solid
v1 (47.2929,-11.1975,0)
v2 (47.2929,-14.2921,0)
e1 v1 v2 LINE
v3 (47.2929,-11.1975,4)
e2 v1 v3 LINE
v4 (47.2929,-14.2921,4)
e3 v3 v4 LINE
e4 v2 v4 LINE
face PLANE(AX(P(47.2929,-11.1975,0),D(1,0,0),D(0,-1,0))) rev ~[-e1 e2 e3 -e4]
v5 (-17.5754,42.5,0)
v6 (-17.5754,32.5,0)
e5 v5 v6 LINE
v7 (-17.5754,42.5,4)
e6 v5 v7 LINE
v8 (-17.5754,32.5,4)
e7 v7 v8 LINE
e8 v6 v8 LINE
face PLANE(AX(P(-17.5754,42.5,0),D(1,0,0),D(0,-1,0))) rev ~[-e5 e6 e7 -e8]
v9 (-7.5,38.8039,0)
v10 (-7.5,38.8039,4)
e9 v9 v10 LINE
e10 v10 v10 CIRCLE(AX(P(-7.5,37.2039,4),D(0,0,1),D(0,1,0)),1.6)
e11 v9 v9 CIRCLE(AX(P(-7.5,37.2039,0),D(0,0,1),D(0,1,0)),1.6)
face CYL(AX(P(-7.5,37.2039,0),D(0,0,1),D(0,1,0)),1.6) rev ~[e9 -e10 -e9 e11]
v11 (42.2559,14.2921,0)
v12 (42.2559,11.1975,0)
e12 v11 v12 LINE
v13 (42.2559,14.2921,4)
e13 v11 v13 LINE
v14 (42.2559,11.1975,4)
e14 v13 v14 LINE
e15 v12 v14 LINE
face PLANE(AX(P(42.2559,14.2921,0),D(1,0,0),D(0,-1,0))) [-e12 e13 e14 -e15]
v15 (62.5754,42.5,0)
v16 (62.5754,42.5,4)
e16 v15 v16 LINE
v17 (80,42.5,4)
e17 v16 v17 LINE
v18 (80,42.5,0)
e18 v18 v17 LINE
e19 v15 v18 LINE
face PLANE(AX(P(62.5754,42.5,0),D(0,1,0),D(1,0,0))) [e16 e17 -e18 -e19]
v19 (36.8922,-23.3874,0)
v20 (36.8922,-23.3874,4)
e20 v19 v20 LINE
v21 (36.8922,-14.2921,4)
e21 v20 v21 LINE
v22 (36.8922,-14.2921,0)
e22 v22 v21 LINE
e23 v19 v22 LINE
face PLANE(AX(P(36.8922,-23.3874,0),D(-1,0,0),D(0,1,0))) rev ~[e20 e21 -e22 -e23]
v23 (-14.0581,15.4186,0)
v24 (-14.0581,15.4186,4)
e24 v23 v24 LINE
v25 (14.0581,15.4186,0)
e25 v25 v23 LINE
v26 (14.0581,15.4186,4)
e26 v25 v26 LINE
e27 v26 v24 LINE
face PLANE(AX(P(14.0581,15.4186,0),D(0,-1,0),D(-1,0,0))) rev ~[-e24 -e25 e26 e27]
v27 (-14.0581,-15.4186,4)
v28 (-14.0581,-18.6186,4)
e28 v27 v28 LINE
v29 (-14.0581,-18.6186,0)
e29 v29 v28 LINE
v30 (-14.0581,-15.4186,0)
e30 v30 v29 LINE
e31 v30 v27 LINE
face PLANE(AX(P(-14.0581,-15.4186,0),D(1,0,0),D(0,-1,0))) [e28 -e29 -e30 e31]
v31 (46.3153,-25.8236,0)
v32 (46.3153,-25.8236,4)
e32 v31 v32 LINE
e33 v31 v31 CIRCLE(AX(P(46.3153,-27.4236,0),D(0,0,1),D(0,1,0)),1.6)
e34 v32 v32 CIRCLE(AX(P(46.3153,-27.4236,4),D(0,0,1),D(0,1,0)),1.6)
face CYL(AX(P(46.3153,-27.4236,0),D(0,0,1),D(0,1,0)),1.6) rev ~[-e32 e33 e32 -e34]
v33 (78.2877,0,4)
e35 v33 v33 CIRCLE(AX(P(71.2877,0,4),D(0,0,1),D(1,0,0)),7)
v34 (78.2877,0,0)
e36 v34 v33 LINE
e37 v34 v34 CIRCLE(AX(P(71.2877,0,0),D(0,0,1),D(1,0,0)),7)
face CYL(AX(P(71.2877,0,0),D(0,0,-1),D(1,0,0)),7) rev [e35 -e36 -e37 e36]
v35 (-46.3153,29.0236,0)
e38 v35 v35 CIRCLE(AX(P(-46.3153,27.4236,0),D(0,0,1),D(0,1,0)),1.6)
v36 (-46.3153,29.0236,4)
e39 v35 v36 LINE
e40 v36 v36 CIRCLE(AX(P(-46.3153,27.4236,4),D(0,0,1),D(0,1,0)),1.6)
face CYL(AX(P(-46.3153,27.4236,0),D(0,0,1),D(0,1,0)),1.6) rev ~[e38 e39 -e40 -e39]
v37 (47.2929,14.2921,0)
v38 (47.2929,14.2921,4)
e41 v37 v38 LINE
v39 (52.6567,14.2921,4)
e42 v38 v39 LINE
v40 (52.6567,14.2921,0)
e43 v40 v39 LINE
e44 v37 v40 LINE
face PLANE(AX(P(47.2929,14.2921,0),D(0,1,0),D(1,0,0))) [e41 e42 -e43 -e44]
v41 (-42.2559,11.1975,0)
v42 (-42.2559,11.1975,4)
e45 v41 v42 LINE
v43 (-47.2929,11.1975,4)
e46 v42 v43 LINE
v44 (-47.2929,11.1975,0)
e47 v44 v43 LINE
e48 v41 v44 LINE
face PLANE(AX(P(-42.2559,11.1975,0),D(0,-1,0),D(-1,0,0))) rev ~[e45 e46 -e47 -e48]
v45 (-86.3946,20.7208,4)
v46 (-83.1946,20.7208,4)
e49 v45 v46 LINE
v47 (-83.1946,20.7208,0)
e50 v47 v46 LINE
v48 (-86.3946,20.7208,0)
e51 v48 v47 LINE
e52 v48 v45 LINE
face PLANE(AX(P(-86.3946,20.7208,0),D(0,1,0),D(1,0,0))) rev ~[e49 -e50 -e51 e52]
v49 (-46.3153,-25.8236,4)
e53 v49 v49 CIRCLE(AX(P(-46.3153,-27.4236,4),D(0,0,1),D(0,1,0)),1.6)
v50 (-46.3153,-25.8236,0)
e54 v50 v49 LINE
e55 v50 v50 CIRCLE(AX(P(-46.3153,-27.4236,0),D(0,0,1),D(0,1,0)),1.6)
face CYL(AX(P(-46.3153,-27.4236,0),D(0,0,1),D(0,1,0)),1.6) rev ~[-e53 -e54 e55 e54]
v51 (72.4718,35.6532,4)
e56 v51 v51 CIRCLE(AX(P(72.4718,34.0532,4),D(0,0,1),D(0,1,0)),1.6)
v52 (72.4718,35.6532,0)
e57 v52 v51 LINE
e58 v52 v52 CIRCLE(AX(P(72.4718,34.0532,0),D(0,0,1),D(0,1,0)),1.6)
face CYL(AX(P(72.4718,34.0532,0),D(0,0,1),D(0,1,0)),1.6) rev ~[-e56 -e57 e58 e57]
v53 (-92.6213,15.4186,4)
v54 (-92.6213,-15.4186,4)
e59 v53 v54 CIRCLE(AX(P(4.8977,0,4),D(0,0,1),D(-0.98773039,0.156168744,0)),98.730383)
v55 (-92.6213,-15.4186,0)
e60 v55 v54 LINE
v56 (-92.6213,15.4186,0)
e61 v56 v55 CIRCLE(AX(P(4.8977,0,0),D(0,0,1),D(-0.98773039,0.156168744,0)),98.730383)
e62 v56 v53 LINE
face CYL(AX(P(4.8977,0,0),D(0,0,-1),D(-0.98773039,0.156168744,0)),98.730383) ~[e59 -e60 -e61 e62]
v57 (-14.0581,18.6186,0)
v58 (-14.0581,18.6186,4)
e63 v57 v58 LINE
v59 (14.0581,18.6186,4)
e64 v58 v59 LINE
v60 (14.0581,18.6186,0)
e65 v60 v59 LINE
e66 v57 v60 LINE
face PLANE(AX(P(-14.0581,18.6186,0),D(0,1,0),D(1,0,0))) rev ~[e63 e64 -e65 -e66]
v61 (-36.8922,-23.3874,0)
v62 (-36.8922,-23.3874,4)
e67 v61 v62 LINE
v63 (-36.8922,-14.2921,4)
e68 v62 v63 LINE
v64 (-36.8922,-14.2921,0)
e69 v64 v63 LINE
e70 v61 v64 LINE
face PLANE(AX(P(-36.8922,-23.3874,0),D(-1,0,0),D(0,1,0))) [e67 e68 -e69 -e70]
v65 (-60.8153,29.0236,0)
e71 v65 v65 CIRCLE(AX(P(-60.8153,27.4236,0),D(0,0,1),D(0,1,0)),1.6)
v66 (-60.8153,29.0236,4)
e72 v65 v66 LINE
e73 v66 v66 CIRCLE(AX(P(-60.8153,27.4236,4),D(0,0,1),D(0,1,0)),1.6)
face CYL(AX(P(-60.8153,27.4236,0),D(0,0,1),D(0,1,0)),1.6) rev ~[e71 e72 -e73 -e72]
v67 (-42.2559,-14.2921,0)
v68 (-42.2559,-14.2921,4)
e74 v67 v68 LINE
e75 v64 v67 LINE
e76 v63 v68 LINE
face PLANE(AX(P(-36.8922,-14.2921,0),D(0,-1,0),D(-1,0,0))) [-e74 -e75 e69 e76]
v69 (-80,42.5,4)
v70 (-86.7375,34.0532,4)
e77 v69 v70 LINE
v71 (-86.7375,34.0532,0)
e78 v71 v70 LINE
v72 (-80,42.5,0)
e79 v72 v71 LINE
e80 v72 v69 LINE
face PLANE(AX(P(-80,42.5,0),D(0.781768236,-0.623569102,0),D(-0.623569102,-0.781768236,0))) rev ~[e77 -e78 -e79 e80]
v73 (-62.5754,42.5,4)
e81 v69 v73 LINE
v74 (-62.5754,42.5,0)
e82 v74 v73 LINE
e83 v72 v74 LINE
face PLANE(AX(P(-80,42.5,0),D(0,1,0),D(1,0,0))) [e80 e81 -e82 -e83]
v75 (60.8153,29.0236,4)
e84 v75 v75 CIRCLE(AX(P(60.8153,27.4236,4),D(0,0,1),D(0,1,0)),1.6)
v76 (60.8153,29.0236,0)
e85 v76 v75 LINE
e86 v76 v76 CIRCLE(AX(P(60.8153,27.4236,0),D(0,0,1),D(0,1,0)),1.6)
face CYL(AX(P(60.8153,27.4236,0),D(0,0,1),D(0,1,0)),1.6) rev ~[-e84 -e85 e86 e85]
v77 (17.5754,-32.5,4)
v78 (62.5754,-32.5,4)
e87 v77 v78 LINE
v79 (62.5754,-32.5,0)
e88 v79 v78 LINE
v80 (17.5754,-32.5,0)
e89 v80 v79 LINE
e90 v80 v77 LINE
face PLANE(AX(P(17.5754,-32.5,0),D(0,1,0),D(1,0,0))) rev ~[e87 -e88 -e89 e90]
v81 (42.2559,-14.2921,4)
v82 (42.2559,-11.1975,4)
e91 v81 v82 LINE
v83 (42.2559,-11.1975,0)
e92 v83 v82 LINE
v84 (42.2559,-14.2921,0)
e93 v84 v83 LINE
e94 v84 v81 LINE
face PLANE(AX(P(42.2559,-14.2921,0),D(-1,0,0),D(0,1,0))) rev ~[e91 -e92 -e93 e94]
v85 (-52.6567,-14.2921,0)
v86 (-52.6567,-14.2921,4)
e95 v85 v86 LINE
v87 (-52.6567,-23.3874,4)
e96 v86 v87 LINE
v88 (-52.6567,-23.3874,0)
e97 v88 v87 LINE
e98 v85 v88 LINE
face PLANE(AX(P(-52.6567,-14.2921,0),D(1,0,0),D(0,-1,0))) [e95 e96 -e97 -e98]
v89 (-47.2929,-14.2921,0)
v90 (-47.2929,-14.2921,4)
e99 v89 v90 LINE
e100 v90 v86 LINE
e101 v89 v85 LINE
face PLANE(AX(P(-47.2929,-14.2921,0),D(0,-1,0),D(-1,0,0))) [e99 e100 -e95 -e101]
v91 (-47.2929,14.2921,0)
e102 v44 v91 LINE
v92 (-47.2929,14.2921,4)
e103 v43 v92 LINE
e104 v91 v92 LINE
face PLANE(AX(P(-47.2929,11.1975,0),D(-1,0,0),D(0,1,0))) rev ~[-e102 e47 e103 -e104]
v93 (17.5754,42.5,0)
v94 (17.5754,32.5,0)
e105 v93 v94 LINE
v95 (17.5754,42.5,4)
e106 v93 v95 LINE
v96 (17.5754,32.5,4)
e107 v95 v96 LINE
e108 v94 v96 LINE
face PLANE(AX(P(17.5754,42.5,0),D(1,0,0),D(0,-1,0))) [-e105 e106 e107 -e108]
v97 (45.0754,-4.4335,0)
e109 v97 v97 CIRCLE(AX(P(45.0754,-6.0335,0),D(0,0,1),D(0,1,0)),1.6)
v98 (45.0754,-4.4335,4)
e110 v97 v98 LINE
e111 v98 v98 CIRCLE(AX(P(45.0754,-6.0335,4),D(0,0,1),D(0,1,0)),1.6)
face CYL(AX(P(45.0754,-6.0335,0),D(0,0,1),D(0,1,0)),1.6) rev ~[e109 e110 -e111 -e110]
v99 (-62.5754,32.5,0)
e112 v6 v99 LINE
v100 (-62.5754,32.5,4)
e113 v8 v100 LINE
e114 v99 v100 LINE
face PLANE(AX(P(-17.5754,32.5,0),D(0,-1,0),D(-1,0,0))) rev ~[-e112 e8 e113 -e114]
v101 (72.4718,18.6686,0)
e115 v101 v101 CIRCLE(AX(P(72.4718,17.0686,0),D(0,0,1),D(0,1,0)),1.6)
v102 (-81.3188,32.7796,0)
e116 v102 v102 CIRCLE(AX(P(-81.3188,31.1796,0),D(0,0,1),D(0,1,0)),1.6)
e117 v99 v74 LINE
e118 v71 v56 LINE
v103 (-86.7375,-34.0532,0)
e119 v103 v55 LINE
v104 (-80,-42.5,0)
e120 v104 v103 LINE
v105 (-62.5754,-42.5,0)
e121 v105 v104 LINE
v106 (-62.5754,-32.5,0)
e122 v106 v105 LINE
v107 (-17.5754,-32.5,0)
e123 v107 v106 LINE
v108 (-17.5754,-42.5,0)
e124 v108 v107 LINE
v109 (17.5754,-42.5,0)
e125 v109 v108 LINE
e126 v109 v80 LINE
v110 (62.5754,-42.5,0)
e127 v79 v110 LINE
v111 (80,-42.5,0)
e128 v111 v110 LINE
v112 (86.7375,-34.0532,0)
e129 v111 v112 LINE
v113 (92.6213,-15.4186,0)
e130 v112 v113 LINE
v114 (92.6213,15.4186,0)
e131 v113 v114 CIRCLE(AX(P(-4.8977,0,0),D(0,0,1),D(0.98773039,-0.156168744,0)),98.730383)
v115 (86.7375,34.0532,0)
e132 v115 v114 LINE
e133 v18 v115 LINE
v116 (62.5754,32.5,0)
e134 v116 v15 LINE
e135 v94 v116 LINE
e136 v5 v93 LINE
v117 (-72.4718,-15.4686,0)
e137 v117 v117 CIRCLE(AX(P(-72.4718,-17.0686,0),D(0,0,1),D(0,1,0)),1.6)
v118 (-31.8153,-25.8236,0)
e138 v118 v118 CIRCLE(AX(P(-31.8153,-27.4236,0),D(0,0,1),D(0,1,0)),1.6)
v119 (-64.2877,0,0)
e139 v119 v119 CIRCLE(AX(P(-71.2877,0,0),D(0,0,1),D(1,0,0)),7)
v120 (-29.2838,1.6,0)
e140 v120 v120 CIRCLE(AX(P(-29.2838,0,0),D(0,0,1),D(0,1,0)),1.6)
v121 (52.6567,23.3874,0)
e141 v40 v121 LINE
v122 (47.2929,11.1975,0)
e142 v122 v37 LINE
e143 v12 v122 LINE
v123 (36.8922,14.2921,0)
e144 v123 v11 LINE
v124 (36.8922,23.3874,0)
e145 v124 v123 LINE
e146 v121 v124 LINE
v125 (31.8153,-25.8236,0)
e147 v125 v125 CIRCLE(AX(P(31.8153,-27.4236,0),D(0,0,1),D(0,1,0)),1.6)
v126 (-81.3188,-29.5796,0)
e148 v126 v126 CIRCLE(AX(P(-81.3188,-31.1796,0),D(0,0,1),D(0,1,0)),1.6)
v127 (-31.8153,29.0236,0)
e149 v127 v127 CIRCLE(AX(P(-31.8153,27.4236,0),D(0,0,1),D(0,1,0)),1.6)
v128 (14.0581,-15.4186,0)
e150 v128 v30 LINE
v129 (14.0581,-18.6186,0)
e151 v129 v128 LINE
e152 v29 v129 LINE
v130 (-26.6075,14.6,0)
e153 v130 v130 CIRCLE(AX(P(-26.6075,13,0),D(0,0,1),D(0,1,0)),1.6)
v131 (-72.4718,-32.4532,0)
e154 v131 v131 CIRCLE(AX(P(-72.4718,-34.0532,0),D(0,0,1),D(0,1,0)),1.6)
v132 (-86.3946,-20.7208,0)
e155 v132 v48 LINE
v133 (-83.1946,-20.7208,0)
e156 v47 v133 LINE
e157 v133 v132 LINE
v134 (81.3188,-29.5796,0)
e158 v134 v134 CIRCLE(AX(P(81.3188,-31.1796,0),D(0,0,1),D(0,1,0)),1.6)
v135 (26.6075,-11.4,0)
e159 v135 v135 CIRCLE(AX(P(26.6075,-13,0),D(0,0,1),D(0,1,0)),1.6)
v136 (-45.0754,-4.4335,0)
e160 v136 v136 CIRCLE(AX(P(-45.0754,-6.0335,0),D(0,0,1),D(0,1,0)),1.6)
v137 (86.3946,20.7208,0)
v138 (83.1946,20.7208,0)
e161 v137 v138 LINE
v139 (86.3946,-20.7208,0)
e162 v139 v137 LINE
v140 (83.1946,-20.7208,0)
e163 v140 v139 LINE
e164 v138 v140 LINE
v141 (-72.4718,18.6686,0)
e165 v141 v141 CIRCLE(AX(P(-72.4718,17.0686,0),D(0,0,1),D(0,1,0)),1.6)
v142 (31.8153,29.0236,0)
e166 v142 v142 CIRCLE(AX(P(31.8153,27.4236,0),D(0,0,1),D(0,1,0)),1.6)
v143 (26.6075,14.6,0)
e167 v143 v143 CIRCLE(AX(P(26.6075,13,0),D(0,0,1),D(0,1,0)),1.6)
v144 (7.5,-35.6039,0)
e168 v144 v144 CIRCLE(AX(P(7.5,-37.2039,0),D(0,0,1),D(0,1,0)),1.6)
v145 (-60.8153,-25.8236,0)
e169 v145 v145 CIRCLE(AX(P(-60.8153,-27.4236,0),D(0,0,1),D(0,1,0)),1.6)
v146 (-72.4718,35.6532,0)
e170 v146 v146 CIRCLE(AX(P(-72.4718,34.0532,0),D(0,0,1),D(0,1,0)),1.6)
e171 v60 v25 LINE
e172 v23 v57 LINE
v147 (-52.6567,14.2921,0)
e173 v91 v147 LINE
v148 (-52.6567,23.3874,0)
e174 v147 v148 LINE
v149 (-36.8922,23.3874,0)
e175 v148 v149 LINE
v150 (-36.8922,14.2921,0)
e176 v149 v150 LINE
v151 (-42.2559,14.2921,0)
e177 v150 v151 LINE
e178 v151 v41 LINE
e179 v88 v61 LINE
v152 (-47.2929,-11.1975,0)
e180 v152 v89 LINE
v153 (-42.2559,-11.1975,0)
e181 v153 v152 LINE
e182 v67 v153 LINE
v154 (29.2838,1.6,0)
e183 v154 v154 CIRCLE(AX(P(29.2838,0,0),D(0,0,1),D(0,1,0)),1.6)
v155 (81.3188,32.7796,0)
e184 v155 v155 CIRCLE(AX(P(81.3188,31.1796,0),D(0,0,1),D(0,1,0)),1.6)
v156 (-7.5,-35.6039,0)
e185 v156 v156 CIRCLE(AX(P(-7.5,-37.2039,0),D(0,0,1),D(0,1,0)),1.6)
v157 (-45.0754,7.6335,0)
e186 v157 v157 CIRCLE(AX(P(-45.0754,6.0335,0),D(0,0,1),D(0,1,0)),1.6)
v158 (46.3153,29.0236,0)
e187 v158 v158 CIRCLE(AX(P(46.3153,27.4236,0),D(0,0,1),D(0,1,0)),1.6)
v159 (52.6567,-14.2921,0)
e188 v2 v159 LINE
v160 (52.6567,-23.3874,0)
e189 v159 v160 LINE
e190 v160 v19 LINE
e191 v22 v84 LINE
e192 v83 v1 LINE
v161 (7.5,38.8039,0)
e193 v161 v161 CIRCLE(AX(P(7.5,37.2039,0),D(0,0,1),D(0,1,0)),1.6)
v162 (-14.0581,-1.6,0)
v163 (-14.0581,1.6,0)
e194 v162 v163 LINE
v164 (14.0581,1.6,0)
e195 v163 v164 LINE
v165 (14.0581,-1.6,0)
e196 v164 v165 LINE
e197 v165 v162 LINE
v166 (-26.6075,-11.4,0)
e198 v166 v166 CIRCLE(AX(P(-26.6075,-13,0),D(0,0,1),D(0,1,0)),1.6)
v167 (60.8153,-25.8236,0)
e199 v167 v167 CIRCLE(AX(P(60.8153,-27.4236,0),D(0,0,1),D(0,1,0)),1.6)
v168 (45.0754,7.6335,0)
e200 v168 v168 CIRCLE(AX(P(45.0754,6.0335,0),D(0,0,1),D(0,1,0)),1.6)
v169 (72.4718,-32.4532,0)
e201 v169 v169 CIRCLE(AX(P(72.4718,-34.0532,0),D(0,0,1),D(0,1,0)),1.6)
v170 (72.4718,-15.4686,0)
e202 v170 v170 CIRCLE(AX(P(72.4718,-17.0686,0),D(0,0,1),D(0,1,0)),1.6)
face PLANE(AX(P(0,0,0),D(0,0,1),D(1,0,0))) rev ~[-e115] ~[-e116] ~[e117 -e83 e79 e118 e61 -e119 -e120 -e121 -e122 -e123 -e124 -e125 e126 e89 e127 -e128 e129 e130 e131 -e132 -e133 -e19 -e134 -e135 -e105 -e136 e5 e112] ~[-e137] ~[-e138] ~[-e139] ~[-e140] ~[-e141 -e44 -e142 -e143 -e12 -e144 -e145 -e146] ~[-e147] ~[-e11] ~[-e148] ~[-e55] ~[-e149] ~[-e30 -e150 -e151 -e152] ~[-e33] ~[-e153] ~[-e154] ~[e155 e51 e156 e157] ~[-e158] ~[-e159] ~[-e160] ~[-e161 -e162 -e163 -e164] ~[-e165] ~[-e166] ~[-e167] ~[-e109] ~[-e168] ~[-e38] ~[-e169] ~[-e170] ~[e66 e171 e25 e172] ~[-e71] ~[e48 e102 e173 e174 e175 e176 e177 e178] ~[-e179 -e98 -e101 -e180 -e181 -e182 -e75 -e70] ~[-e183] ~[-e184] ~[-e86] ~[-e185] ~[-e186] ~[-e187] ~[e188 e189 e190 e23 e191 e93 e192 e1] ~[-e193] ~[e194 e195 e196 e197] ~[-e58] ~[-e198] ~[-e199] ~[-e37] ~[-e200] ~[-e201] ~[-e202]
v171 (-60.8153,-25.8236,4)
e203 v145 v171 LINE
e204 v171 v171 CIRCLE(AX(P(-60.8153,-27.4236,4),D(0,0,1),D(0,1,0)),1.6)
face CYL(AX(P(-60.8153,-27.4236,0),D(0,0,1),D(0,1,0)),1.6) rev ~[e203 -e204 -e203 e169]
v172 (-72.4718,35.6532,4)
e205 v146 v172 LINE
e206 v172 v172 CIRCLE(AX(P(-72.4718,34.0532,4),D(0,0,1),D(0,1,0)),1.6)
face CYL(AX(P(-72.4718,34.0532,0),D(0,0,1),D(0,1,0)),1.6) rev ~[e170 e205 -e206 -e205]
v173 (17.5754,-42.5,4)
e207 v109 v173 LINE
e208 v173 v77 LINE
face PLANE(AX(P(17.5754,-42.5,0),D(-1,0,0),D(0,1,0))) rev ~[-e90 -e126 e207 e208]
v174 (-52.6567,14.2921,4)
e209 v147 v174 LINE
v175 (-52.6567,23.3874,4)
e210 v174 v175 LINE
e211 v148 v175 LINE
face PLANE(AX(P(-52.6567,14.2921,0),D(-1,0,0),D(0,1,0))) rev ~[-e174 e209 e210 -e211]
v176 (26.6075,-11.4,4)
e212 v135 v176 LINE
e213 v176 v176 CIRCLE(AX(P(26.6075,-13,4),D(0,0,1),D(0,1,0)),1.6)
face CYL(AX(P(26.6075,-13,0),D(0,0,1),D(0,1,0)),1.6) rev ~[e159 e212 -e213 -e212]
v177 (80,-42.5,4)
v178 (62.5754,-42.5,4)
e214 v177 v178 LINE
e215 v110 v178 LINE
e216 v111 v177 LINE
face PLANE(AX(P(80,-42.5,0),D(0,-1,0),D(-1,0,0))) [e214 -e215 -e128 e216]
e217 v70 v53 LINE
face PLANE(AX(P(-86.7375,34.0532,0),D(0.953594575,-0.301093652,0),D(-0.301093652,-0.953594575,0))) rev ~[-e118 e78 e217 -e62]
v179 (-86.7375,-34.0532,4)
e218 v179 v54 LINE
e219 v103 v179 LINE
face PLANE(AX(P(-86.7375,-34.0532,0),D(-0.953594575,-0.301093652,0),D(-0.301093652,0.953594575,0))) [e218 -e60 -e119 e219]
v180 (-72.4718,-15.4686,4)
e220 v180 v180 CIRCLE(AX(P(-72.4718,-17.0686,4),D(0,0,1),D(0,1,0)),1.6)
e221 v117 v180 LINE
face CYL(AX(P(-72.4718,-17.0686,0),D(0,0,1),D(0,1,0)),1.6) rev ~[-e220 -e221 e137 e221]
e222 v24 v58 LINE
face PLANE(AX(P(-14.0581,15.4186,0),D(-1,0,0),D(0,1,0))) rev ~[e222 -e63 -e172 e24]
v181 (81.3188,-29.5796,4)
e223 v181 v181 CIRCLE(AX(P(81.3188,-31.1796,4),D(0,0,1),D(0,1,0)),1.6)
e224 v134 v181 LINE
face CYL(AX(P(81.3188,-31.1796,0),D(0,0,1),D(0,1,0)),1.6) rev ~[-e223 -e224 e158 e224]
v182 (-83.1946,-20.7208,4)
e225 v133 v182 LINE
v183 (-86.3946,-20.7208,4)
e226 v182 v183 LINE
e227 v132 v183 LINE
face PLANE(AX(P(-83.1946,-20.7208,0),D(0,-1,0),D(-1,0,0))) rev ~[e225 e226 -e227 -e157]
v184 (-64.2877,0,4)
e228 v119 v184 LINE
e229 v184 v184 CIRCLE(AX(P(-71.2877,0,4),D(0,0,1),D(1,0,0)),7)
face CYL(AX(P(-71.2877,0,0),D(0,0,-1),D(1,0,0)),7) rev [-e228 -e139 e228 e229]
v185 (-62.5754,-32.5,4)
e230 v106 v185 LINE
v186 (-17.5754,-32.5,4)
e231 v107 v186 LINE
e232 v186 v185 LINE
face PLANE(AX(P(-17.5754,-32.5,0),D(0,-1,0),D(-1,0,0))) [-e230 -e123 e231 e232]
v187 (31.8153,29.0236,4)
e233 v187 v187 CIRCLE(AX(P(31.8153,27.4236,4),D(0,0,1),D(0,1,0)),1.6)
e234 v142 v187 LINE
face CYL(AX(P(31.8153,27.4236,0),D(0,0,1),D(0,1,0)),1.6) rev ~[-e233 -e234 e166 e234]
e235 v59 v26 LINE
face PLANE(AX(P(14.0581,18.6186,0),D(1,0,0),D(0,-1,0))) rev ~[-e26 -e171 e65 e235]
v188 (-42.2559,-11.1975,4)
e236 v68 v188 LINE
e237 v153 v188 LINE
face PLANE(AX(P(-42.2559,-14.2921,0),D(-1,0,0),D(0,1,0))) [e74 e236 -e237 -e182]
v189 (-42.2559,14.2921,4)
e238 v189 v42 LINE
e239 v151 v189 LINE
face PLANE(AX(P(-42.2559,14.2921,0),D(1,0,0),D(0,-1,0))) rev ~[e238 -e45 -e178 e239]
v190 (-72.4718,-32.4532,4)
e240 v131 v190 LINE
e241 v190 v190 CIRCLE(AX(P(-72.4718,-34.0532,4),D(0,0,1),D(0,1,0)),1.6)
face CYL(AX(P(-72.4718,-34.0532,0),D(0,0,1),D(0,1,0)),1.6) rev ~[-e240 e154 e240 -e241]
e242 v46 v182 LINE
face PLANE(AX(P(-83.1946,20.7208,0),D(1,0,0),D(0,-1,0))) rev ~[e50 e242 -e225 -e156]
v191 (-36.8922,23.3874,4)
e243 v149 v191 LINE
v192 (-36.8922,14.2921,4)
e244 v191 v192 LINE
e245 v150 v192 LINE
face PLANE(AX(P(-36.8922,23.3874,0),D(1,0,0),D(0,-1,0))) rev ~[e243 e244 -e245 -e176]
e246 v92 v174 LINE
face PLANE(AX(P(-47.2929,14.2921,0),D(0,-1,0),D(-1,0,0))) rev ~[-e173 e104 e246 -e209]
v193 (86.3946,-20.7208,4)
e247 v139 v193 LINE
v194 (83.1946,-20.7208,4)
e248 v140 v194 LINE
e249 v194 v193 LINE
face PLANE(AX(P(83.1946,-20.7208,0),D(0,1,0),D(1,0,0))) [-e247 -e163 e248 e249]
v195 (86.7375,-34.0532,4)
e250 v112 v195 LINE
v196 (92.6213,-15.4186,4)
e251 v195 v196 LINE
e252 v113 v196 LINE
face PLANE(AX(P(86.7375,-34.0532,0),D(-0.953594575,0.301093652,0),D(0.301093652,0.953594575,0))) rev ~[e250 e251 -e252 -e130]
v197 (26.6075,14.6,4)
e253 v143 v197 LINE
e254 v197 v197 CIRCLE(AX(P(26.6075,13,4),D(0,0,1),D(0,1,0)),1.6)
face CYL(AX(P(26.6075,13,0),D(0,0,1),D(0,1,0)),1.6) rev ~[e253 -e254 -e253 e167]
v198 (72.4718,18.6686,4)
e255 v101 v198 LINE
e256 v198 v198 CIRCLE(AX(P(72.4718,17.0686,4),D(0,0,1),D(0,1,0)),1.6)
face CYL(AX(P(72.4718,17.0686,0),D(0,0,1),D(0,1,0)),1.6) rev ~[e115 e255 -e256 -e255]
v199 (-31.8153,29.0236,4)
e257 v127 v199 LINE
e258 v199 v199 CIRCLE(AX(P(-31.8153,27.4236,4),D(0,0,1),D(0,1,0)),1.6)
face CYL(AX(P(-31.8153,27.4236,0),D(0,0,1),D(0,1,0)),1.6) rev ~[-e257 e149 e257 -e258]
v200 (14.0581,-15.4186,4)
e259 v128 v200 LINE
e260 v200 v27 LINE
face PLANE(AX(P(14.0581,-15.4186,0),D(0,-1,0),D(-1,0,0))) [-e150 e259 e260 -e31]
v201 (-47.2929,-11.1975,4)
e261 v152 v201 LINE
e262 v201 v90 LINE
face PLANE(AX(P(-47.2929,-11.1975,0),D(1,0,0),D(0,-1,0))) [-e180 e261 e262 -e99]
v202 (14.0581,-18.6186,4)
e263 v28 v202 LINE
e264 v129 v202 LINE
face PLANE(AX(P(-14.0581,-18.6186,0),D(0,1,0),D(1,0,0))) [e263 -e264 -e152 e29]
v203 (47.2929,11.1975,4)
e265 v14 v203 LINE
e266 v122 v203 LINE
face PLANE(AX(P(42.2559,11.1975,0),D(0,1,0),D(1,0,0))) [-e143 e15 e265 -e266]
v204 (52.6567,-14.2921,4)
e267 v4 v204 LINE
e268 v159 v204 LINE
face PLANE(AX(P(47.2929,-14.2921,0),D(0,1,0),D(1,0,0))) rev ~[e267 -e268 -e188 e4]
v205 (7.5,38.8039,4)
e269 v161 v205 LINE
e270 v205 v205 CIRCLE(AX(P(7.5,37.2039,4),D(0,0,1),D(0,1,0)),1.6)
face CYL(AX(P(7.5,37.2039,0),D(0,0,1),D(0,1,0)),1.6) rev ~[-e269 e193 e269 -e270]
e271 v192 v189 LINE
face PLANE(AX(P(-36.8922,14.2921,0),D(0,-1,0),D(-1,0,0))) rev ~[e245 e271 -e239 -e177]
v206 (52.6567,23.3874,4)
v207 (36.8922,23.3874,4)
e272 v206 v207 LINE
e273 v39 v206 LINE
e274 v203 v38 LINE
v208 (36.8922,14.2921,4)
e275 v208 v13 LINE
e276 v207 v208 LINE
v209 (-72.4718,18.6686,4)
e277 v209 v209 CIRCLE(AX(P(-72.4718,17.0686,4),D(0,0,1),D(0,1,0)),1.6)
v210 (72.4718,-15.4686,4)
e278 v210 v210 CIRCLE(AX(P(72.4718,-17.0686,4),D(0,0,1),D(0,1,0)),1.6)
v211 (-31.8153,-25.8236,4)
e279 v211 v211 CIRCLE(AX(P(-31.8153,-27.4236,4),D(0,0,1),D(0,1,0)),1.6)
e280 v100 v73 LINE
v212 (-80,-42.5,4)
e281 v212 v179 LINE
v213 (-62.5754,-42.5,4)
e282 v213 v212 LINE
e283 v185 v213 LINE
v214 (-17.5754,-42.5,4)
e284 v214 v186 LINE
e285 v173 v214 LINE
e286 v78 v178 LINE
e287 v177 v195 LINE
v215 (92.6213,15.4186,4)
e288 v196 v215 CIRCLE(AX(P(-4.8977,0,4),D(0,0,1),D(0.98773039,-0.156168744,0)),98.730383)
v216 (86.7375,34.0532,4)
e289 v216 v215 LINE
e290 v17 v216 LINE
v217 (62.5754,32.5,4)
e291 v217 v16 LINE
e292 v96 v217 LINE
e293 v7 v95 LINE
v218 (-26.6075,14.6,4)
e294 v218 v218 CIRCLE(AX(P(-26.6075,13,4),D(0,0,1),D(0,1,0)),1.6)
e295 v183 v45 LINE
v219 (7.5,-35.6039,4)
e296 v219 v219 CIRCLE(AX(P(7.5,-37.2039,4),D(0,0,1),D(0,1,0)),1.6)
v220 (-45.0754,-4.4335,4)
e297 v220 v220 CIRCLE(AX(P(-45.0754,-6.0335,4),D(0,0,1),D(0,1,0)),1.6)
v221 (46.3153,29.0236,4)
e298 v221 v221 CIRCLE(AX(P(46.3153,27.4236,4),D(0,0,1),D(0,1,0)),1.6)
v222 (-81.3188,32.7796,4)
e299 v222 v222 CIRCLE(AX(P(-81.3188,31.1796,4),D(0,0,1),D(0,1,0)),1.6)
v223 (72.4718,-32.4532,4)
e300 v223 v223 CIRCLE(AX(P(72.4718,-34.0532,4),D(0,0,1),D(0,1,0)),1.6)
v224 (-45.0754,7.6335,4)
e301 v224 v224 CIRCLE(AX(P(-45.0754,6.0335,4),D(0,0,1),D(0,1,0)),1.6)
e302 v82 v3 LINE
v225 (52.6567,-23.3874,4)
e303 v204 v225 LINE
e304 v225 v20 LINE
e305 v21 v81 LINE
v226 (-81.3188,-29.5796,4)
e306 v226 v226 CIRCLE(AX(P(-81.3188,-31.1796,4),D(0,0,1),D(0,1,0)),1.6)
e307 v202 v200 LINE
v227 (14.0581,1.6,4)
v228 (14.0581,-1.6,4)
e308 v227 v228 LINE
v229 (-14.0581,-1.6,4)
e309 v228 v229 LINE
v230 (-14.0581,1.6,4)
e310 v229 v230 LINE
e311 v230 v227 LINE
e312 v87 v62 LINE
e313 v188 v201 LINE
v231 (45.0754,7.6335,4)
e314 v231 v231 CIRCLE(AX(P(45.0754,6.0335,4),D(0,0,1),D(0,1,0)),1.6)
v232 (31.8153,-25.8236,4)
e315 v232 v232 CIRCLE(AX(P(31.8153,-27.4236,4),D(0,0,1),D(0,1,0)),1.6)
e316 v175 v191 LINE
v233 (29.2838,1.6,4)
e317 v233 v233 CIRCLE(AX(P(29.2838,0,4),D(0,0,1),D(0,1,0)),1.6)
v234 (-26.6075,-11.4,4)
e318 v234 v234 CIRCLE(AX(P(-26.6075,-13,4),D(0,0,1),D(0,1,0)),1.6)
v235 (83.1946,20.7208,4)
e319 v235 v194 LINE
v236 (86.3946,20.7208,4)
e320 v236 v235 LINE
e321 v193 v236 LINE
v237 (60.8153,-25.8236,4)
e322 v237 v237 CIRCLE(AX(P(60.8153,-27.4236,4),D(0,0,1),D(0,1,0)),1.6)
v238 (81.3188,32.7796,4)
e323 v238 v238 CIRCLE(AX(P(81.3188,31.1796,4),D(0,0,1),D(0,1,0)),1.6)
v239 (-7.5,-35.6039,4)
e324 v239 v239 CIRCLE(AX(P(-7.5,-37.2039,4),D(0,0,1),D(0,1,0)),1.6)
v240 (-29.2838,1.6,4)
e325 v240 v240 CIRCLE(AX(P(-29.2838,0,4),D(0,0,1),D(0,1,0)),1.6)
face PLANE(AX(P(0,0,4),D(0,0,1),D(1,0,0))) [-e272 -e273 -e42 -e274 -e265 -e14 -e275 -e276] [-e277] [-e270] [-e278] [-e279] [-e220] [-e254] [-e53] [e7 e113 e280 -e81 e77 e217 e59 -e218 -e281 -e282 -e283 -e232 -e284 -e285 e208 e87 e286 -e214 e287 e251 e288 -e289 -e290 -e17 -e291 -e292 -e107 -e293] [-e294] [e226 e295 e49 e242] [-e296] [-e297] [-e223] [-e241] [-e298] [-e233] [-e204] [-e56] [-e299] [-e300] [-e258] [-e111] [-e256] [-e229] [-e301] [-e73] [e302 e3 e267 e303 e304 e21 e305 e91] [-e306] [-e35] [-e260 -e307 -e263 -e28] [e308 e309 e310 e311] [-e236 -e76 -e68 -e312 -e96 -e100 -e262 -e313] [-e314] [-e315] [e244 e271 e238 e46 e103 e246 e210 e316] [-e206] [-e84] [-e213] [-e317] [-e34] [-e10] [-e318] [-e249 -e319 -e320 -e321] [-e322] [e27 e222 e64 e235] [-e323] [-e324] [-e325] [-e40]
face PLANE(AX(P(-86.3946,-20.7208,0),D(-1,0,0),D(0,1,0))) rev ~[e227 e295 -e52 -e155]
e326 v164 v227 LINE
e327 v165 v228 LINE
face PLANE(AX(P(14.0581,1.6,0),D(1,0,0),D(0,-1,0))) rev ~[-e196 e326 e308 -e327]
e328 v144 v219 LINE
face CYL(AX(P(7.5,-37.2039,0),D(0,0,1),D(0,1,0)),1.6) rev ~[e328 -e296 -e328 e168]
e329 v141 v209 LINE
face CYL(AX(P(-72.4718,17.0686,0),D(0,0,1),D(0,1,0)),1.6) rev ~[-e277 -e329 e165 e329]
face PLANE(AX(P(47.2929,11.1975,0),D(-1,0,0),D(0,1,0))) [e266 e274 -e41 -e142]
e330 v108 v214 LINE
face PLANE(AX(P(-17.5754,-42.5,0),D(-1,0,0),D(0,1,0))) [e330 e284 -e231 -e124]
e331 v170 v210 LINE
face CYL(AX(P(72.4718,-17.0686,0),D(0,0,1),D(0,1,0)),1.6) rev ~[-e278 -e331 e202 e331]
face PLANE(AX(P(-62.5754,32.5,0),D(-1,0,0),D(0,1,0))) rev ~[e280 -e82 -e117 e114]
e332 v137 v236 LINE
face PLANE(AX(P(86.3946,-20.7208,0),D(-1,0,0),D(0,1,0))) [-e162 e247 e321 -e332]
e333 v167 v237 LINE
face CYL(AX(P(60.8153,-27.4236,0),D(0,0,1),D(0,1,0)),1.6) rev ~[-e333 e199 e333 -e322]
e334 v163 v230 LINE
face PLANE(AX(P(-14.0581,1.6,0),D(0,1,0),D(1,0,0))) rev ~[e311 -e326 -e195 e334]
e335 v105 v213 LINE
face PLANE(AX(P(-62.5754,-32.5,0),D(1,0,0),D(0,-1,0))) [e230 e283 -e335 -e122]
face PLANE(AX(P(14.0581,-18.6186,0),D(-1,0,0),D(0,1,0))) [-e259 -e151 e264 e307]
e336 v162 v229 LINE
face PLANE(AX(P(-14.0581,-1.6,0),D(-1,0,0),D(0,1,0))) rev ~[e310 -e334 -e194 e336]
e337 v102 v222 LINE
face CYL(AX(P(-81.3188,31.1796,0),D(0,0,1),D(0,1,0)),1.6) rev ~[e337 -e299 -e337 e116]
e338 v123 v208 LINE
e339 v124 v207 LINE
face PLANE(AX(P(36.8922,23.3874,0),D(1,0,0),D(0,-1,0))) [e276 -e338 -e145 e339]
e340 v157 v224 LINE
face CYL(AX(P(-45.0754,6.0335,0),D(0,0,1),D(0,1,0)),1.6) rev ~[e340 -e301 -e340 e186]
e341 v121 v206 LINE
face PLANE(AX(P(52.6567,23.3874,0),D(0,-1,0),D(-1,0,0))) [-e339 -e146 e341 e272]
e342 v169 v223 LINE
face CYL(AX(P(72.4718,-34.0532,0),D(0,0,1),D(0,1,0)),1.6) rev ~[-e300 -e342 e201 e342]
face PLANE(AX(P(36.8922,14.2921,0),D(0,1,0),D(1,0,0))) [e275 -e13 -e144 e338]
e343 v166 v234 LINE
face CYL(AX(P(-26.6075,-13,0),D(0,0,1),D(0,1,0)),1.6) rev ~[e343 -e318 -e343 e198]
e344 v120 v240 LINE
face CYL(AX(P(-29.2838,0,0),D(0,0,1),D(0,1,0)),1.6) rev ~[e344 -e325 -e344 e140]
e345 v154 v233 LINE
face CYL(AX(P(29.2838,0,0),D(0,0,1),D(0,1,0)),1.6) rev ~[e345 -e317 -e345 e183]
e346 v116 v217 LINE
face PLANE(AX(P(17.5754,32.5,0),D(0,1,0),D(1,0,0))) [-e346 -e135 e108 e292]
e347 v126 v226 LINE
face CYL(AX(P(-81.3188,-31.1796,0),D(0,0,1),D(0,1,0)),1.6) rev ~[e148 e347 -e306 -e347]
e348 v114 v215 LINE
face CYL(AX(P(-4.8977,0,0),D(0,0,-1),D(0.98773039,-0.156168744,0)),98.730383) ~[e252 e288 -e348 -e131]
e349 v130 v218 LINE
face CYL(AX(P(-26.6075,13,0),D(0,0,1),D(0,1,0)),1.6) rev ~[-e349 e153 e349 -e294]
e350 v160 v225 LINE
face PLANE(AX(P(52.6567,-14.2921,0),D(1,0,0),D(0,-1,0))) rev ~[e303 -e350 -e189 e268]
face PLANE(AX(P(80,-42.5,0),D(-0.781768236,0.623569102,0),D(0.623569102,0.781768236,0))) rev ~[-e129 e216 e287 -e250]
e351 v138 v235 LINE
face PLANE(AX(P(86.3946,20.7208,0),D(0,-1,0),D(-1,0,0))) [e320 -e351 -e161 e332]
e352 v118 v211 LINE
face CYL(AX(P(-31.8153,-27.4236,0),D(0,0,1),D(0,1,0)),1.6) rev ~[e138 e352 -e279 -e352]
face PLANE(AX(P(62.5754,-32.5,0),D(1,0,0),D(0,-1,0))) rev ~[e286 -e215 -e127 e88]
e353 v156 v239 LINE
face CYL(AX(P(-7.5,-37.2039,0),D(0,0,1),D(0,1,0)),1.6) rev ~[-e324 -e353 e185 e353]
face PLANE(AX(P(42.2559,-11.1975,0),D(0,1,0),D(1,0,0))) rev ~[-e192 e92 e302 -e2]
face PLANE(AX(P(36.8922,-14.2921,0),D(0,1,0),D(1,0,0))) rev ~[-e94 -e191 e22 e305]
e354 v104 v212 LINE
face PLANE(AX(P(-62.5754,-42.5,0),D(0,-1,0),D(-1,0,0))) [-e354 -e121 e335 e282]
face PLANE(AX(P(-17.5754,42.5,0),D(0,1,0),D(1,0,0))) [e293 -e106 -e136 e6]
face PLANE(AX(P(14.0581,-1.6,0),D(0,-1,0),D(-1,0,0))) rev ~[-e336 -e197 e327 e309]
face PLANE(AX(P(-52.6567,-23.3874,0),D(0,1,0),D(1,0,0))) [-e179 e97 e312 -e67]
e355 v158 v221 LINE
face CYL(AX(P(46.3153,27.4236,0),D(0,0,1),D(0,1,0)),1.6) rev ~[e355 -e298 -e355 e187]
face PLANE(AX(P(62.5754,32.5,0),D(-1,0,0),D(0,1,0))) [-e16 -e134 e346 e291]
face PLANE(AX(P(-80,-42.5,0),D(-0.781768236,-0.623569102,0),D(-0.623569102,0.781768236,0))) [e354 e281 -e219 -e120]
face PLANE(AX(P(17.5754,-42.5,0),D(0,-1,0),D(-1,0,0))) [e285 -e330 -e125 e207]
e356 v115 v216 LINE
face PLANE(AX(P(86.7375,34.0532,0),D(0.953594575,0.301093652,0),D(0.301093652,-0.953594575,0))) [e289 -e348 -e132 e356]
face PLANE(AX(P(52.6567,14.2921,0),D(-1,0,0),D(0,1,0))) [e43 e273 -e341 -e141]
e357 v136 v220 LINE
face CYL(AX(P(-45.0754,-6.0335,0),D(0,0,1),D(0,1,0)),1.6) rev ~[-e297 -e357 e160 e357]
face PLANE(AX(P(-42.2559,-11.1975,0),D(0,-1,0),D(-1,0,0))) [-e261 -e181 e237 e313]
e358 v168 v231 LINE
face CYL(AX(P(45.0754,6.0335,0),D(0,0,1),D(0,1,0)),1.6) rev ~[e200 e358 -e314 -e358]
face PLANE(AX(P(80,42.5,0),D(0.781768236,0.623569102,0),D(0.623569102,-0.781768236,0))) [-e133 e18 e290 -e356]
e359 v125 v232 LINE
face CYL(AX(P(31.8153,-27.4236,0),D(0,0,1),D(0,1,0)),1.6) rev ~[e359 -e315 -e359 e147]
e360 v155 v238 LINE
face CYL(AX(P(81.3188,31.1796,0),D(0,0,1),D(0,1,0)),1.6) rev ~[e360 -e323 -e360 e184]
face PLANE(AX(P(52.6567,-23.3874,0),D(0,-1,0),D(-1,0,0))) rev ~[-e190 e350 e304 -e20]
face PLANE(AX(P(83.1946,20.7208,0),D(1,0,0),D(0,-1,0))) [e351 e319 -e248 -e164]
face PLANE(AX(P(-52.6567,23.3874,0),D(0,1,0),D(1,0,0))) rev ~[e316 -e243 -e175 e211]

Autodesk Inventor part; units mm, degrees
ref_plane "YZ Plane" through (0, 0, 0) normal (1, 0, 0) x (0, 1, 0)
ref_plane "XZ Plane" through (0, 0, 0) normal (0, 1, 0) x (-1, 0, 0)
ref_plane "XY Plane" through (0, 0, 0) normal (0, 0, 1) x (1, 0, 0)
sketch "草图1" plane through (0, 0, 0) normal (0, 0, 1) x (1, 0, 0)
  line L0 (-80, -42.5) -> (-80, -32.5) construction
  line L1 (80, -42.5) -> (-80, 42.5) construction
  line L2 (-80, -42.5) -> (80, 42.5) construction
  line L3 (-17.5754, 32.5) -> (-62.5754, 32.5)
  line L4 (-62.5754, 32.5) -> (-62.5754, 42.5)
  line L5 (-17.5754, 42.5) -> (-17.5754, 32.5)
  line L6 (0, 0) -> (0, 68.1065) construction
  line L7 (0, 0) -> (-105.3921, 0) construction
  line L8 (17.5754, 32.5) -> (62.5754, 32.5)
  line L9 (62.5754, 32.5) -> (62.5754, 42.5)
  line L10 (17.5754, 42.5) -> (17.5754, 32.5)
  line L11 (-17.5754, -32.5) -> (-62.5754, -32.5)
  line L12 (-62.5754, -32.5) -> (-62.5754, -42.5)
  line L13 (-17.5754, -42.5) -> (-17.5754, -32.5)
  line L14 (62.5754, -32.5) -> (62.5754, -42.5)
  line L15 (17.5754, -32.5) -> (62.5754, -32.5)
  line L16 (17.5754, -42.5) -> (17.5754, -32.5)
  line L17 (-80, 42.5) -> (-62.5754, 42.5)
  line L18 (-17.5754, 42.5) -> (17.5754, 42.5)
  line L19 (62.5754, 42.5) -> (80, 42.5)
  line L20 (80, -42.5) -> (62.5754, -42.5)
  line L21 (17.5754, -42.5) -> (-17.5754, -42.5)
  line L22 (-62.5754, -42.5) -> (-80, -42.5)
  arc A0 (-92.6213, 15.4186) -> (-92.6213, -15.4186) centre (4.8977, 0) ccw
  line L23 (-80, 42.5) -> (-86.7375, 34.0532)
  line L24 (-86.7375, 34.0532) -> (-92.6213, 15.4186)
  line L25 (-80, -42.5) -> (-86.7375, -34.0532)
  line L26 (-86.7375, -34.0532) -> (-92.6213, -15.4186)
  arc A1 (92.6213, -15.4186) -> (92.6213, 15.4186) centre (-4.8977, 0) ccw
  line L27 (80, 42.5) -> (86.7375, 34.0532)
  line L28 (86.7375, 34.0532) -> (92.6213, 15.4186)
  line L29 (80, -42.5) -> (86.7375, -34.0532)
  line L30 (86.7375, -34.0532) -> (92.6213, -15.4186)
  line L31 (80, 42.5) -> (80, 32.5) construction
  circle A2 centre (-71.2877, 0) radius 7
  line L32 (-83.1946, -20.7208) -> (-86.3946, -20.7208)
  line L33 (-86.3946, -20.7208) -> (-86.3946, 20.7208)
  line L34 (-86.3946, 20.7208) -> (-83.1946, 20.7208)
  line L35 (-83.1946, 20.7208) -> (-83.1946, -20.7208)
  line L36 (-83.1946, -20.7208) -> (-86.3946, 20.7208) construction
  line L37 (-86.3946, -20.7208) -> (-83.1946, 20.7208) construction
  line L38 (-35.0754, 53.2522) -> (-35.0754, 15.4186) construction
  line L39 (-52.6567, 14.2921) -> (-52.6567, 23.3874)
  line L40 (-52.6567, 23.3874) -> (-36.8922, 23.3874)
  line L41 (-36.8922, 23.3874) -> (-36.8922, 14.2921)
  line L42 (-27.1931, 14.2921) -> (-42.9577, 23.3874) construction
  line L43 (-42.9577, 14.2921) -> (-27.1931, 23.3874) construction
  line L44 (-42.2559, 11.1975) -> (-47.2929, 11.1975)
  line L45 (-47.2929, 11.1975) -> (-47.2929, 14.2921)
  line L46 (-42.2559, 14.2921) -> (-42.2559, 11.1975)
  line L47 (-32.5569, 11.1975) -> (-37.5939, 17.3867) construction
  line L48 (-37.5939, 11.1975) -> (-32.5569, 17.3867) construction
  line L49 (-36.8922, 14.2921) -> (-42.2559, 14.2921)
  line L50 (-47.2929, 14.2921) -> (-52.6567, 14.2921)
  line L51 (-14.0581, 18.6186) -> (14.0581, 18.6186)
  line L52 (14.0581, 18.6186) -> (14.0581, 15.4186)
  line L53 (14.0581, 15.4186) -> (-14.0581, 15.4186)
  line L54 (-14.0581, 15.4186) -> (-14.0581, 18.6186)
  line L55 (14.0581, -1.6) -> (-14.0581, -1.6)
  line L56 (-14.0581, -1.6) -> (-14.0581, 1.6)
  line L57 (-14.0581, 1.6) -> (14.0581, 1.6)
  line L58 (14.0581, 1.6) -> (14.0581, -1.6)
  line L59 (14.0581, -1.6) -> (-14.0581, 1.6) construction
  line L60 (-14.0581, -1.6) -> (14.0581, 1.6) construction
  line L61 (-52.6567, -14.2921) -> (-52.6567, -23.3874)
  line L62 (-52.6567, -23.3874) -> (-36.8922, -23.3874)
  line L63 (-36.8922, -23.3874) -> (-36.8922, -14.2921)
  line L64 (-42.2559, -11.1975) -> (-47.2929, -11.1975)
  line L65 (-47.2929, -11.1975) -> (-47.2929, -14.2921)
  line L66 (-42.2559, -14.2921) -> (-42.2559, -11.1975)
  line L67 (-36.8922, -14.2921) -> (-42.2559, -14.2921)
  line L68 (-47.2929, -14.2921) -> (-52.6567, -14.2921)
  line L69 (-14.0581, -18.6186) -> (14.0581, -18.6186)
  line L70 (14.0581, -18.6186) -> (14.0581, -15.4186)
  line L71 (14.0581, -15.4186) -> (-14.0581, -15.4186)
  line L72 (-14.0581, -15.4186) -> (-14.0581, -18.6186)
  line L73 (80, -42.5) -> (80, -32.5) construction
  line L74 (52.6567, 14.2921) -> (52.6567, 23.3874)
  line L75 (52.6567, 23.3874) -> (36.8922, 23.3874)
  line L76 (36.8922, 23.3874) -> (36.8922, 14.2921)
  line L77 (42.2559, 11.1975) -> (47.2929, 11.1975)
  line L78 (47.2929, 11.1975) -> (47.2929, 14.2921)
  line L79 (42.2559, 14.2921) -> (42.2559, 11.1975)
  line L80 (36.8922, 14.2921) -> (42.2559, 14.2921)
  line L81 (47.2929, 14.2921) -> (52.6567, 14.2921)
  line L82 (36.8922, -23.3874) -> (36.8922, -14.2921)
  line L83 (52.6567, -23.3874) -> (36.8922, -23.3874)
  line L84 (52.6567, -14.2921) -> (52.6567, -23.3874)
  line L85 (47.2929, -14.2921) -> (52.6567, -14.2921)
  line L86 (47.2929, -11.1975) -> (47.2929, -14.2921)
  line L87 (42.2559, -11.1975) -> (47.2929, -11.1975)
  line L88 (42.2559, -14.2921) -> (42.2559, -11.1975)
  line L89 (36.8922, -14.2921) -> (42.2559, -14.2921)
  circle A3 centre (71.2877, 0) radius 7
  line L90 (83.1946, -20.7208) -> (86.3946, -20.7208)
  line L91 (86.3946, -20.7208) -> (86.3946, 20.7208)
  line L92 (86.3946, 20.7208) -> (83.1946, 20.7208)
  line L93 (83.1946, 20.7208) -> (83.1946, -20.7208)
  line L94 (86.3946, -20.7208) -> (83.1946, 20.7208) construction
  line L95 (0, 0) -> (51.2908, 0) construction
  point P0 (-84.7946, 0)
  point P1 (7.5, 37.2039)
  point P2 (-7.5, 37.2039)
  point P3 (-21.5, 37.1159)
  point P4 (21.5, 37.1159)
  point P5 (-35.0754, 18.8397)
  point P6 (-45.0754, 6.0335)
  point P7 (7.5, -37.2039)
  point P8 (-7.5, -37.2039)
  point P9 (-21.5, -37.1159)
  point P10 (21.5, -37.1159)
  point P11 (-45.0754, -6.0335)
  point P12 (-29.2838, 0)
  point P13 (-26.6075, 13)
  point P14 (-26.6075, -13)
  point P15 (45.0754, 6.0335)
  point P16 (45.0754, -6.0335)
  point P17 (29.2838, 0)
  point P18 (26.6075, 13)
  point P19 (26.6075, -13)
  point P20 (-81.3188, 31.1796)
  point P21 (-81.3188, -31.1796)
  point P22 (81.3188, 31.1796)
  point P23 (81.3188, -31.1796)
  point P24 (60.8153, 27.4236)
  point P25 (46.3153, 27.4236)
  point P26 (31.8153, 27.4236)
  point P27 (60.8153, -27.4236)
  point P28 (46.3153, -27.4236)
  point P29 (31.8153, -27.4236)
  point P30 (-60.8153, 27.4236)
  point P31 (-46.3153, 27.4236)
  point P32 (-31.8153, 27.4236)
  point P33 (-46.3153, -27.4236)
  point P34 (-60.8153, -27.4236)
  point P35 (-31.8153, -27.4236)
  point P36 (72.4718, 34.0532)
  point P37 (72.4718, 17.0686)
  point P38 (72.4718, -34.0532)
  point P39 (72.4718, -17.0686)
  point P40 (-72.4718, 34.0532)
  point P41 (-72.4718, 17.0686)
  point P42 (-72.4718, -17.0686)
  point P43 (-72.4718, -34.0532)
  point P44 (-40.0754, 32.5)
  point P45 (40.0754, 32.5)
  dimension "d0" = 160
  dimension "d1" = 85
  dimension "d2" = 10
  dimension "d3" = 45
  dimension "d4" = 14
  dimension "d5" = 3.2
  dimension "d6" = 7.5
  dimension "d7" = 14
  dimension "d8" = 17.5
  dimension "d9" = 3.2
  dimension "d10" = 3.2
  dimension "d11" = 13
  dimension "d16" = 14.5
  dimension "d17" = 14.5
extrude "拉伸1" add sketch "草图1" along normal blind 4
hole "孔1" at (7.5, 37.2039, 0) at (-7.5, 37.2039, 0) at (-21.5, 37.1159, 0) at (21.5, 37.1159, 0) at (-45.0754, 6.0335, 0) at (21.5, -37.1159, 0) at (7.5, -37.2039, 0) at (-7.5, -37.2039, 0) at (-21.5, -37.1159, 0) at (-45.0754, -6.0335, 0) at (-29.2838, 0, 0) at (-26.6075, 13, 0) at (-26.6075, -13, 0) at (45.0754, 6.0335, 0) at (45.0754, -6.0335, 0) at (29.2838, 0, 0) at (26.6075, 13, 0) at (26.6075, -13, 0) at (-81.3188, 31.1796, 0) at (-81.3188, -31.1796, 0) at (81.3188, 31.1796, 0) at (81.3188, -31.1796, 0) at (60.8153, 27.4236, 0) at (46.3153, 27.4236, 0) at (31.8153, 27.4236, 0) at (46.3153, -27.4236, 0) at (60.8153, -27.4236, 0) at (31.8153, -27.4236, 0) at (-60.8153, 27.4236, 0) at (-46.3153, 27.4236, 0) at (-31.8153, 27.4236, 0) at (-60.8153, -27.4236, 0) at (-46.3153, -27.4236, 0) at (-31.8153, -27.4236, 0) at (72.4718, 34.0532, 0) at (72.4718, 17.0686, 0) at (72.4718, -17.0686, 0) at (72.4718, -34.0532, 0) at (-72.4718, 34.0532, 0) at (-72.4718, 17.0686, 0) at (-72.4718, -17.0686, 0) at (-72.4718, -34.0532, 0) direction (0, 0, 1) diameter 3.2 end through all
properties part number "底盘设计2.0" material "乙缩醛树脂，白色"
